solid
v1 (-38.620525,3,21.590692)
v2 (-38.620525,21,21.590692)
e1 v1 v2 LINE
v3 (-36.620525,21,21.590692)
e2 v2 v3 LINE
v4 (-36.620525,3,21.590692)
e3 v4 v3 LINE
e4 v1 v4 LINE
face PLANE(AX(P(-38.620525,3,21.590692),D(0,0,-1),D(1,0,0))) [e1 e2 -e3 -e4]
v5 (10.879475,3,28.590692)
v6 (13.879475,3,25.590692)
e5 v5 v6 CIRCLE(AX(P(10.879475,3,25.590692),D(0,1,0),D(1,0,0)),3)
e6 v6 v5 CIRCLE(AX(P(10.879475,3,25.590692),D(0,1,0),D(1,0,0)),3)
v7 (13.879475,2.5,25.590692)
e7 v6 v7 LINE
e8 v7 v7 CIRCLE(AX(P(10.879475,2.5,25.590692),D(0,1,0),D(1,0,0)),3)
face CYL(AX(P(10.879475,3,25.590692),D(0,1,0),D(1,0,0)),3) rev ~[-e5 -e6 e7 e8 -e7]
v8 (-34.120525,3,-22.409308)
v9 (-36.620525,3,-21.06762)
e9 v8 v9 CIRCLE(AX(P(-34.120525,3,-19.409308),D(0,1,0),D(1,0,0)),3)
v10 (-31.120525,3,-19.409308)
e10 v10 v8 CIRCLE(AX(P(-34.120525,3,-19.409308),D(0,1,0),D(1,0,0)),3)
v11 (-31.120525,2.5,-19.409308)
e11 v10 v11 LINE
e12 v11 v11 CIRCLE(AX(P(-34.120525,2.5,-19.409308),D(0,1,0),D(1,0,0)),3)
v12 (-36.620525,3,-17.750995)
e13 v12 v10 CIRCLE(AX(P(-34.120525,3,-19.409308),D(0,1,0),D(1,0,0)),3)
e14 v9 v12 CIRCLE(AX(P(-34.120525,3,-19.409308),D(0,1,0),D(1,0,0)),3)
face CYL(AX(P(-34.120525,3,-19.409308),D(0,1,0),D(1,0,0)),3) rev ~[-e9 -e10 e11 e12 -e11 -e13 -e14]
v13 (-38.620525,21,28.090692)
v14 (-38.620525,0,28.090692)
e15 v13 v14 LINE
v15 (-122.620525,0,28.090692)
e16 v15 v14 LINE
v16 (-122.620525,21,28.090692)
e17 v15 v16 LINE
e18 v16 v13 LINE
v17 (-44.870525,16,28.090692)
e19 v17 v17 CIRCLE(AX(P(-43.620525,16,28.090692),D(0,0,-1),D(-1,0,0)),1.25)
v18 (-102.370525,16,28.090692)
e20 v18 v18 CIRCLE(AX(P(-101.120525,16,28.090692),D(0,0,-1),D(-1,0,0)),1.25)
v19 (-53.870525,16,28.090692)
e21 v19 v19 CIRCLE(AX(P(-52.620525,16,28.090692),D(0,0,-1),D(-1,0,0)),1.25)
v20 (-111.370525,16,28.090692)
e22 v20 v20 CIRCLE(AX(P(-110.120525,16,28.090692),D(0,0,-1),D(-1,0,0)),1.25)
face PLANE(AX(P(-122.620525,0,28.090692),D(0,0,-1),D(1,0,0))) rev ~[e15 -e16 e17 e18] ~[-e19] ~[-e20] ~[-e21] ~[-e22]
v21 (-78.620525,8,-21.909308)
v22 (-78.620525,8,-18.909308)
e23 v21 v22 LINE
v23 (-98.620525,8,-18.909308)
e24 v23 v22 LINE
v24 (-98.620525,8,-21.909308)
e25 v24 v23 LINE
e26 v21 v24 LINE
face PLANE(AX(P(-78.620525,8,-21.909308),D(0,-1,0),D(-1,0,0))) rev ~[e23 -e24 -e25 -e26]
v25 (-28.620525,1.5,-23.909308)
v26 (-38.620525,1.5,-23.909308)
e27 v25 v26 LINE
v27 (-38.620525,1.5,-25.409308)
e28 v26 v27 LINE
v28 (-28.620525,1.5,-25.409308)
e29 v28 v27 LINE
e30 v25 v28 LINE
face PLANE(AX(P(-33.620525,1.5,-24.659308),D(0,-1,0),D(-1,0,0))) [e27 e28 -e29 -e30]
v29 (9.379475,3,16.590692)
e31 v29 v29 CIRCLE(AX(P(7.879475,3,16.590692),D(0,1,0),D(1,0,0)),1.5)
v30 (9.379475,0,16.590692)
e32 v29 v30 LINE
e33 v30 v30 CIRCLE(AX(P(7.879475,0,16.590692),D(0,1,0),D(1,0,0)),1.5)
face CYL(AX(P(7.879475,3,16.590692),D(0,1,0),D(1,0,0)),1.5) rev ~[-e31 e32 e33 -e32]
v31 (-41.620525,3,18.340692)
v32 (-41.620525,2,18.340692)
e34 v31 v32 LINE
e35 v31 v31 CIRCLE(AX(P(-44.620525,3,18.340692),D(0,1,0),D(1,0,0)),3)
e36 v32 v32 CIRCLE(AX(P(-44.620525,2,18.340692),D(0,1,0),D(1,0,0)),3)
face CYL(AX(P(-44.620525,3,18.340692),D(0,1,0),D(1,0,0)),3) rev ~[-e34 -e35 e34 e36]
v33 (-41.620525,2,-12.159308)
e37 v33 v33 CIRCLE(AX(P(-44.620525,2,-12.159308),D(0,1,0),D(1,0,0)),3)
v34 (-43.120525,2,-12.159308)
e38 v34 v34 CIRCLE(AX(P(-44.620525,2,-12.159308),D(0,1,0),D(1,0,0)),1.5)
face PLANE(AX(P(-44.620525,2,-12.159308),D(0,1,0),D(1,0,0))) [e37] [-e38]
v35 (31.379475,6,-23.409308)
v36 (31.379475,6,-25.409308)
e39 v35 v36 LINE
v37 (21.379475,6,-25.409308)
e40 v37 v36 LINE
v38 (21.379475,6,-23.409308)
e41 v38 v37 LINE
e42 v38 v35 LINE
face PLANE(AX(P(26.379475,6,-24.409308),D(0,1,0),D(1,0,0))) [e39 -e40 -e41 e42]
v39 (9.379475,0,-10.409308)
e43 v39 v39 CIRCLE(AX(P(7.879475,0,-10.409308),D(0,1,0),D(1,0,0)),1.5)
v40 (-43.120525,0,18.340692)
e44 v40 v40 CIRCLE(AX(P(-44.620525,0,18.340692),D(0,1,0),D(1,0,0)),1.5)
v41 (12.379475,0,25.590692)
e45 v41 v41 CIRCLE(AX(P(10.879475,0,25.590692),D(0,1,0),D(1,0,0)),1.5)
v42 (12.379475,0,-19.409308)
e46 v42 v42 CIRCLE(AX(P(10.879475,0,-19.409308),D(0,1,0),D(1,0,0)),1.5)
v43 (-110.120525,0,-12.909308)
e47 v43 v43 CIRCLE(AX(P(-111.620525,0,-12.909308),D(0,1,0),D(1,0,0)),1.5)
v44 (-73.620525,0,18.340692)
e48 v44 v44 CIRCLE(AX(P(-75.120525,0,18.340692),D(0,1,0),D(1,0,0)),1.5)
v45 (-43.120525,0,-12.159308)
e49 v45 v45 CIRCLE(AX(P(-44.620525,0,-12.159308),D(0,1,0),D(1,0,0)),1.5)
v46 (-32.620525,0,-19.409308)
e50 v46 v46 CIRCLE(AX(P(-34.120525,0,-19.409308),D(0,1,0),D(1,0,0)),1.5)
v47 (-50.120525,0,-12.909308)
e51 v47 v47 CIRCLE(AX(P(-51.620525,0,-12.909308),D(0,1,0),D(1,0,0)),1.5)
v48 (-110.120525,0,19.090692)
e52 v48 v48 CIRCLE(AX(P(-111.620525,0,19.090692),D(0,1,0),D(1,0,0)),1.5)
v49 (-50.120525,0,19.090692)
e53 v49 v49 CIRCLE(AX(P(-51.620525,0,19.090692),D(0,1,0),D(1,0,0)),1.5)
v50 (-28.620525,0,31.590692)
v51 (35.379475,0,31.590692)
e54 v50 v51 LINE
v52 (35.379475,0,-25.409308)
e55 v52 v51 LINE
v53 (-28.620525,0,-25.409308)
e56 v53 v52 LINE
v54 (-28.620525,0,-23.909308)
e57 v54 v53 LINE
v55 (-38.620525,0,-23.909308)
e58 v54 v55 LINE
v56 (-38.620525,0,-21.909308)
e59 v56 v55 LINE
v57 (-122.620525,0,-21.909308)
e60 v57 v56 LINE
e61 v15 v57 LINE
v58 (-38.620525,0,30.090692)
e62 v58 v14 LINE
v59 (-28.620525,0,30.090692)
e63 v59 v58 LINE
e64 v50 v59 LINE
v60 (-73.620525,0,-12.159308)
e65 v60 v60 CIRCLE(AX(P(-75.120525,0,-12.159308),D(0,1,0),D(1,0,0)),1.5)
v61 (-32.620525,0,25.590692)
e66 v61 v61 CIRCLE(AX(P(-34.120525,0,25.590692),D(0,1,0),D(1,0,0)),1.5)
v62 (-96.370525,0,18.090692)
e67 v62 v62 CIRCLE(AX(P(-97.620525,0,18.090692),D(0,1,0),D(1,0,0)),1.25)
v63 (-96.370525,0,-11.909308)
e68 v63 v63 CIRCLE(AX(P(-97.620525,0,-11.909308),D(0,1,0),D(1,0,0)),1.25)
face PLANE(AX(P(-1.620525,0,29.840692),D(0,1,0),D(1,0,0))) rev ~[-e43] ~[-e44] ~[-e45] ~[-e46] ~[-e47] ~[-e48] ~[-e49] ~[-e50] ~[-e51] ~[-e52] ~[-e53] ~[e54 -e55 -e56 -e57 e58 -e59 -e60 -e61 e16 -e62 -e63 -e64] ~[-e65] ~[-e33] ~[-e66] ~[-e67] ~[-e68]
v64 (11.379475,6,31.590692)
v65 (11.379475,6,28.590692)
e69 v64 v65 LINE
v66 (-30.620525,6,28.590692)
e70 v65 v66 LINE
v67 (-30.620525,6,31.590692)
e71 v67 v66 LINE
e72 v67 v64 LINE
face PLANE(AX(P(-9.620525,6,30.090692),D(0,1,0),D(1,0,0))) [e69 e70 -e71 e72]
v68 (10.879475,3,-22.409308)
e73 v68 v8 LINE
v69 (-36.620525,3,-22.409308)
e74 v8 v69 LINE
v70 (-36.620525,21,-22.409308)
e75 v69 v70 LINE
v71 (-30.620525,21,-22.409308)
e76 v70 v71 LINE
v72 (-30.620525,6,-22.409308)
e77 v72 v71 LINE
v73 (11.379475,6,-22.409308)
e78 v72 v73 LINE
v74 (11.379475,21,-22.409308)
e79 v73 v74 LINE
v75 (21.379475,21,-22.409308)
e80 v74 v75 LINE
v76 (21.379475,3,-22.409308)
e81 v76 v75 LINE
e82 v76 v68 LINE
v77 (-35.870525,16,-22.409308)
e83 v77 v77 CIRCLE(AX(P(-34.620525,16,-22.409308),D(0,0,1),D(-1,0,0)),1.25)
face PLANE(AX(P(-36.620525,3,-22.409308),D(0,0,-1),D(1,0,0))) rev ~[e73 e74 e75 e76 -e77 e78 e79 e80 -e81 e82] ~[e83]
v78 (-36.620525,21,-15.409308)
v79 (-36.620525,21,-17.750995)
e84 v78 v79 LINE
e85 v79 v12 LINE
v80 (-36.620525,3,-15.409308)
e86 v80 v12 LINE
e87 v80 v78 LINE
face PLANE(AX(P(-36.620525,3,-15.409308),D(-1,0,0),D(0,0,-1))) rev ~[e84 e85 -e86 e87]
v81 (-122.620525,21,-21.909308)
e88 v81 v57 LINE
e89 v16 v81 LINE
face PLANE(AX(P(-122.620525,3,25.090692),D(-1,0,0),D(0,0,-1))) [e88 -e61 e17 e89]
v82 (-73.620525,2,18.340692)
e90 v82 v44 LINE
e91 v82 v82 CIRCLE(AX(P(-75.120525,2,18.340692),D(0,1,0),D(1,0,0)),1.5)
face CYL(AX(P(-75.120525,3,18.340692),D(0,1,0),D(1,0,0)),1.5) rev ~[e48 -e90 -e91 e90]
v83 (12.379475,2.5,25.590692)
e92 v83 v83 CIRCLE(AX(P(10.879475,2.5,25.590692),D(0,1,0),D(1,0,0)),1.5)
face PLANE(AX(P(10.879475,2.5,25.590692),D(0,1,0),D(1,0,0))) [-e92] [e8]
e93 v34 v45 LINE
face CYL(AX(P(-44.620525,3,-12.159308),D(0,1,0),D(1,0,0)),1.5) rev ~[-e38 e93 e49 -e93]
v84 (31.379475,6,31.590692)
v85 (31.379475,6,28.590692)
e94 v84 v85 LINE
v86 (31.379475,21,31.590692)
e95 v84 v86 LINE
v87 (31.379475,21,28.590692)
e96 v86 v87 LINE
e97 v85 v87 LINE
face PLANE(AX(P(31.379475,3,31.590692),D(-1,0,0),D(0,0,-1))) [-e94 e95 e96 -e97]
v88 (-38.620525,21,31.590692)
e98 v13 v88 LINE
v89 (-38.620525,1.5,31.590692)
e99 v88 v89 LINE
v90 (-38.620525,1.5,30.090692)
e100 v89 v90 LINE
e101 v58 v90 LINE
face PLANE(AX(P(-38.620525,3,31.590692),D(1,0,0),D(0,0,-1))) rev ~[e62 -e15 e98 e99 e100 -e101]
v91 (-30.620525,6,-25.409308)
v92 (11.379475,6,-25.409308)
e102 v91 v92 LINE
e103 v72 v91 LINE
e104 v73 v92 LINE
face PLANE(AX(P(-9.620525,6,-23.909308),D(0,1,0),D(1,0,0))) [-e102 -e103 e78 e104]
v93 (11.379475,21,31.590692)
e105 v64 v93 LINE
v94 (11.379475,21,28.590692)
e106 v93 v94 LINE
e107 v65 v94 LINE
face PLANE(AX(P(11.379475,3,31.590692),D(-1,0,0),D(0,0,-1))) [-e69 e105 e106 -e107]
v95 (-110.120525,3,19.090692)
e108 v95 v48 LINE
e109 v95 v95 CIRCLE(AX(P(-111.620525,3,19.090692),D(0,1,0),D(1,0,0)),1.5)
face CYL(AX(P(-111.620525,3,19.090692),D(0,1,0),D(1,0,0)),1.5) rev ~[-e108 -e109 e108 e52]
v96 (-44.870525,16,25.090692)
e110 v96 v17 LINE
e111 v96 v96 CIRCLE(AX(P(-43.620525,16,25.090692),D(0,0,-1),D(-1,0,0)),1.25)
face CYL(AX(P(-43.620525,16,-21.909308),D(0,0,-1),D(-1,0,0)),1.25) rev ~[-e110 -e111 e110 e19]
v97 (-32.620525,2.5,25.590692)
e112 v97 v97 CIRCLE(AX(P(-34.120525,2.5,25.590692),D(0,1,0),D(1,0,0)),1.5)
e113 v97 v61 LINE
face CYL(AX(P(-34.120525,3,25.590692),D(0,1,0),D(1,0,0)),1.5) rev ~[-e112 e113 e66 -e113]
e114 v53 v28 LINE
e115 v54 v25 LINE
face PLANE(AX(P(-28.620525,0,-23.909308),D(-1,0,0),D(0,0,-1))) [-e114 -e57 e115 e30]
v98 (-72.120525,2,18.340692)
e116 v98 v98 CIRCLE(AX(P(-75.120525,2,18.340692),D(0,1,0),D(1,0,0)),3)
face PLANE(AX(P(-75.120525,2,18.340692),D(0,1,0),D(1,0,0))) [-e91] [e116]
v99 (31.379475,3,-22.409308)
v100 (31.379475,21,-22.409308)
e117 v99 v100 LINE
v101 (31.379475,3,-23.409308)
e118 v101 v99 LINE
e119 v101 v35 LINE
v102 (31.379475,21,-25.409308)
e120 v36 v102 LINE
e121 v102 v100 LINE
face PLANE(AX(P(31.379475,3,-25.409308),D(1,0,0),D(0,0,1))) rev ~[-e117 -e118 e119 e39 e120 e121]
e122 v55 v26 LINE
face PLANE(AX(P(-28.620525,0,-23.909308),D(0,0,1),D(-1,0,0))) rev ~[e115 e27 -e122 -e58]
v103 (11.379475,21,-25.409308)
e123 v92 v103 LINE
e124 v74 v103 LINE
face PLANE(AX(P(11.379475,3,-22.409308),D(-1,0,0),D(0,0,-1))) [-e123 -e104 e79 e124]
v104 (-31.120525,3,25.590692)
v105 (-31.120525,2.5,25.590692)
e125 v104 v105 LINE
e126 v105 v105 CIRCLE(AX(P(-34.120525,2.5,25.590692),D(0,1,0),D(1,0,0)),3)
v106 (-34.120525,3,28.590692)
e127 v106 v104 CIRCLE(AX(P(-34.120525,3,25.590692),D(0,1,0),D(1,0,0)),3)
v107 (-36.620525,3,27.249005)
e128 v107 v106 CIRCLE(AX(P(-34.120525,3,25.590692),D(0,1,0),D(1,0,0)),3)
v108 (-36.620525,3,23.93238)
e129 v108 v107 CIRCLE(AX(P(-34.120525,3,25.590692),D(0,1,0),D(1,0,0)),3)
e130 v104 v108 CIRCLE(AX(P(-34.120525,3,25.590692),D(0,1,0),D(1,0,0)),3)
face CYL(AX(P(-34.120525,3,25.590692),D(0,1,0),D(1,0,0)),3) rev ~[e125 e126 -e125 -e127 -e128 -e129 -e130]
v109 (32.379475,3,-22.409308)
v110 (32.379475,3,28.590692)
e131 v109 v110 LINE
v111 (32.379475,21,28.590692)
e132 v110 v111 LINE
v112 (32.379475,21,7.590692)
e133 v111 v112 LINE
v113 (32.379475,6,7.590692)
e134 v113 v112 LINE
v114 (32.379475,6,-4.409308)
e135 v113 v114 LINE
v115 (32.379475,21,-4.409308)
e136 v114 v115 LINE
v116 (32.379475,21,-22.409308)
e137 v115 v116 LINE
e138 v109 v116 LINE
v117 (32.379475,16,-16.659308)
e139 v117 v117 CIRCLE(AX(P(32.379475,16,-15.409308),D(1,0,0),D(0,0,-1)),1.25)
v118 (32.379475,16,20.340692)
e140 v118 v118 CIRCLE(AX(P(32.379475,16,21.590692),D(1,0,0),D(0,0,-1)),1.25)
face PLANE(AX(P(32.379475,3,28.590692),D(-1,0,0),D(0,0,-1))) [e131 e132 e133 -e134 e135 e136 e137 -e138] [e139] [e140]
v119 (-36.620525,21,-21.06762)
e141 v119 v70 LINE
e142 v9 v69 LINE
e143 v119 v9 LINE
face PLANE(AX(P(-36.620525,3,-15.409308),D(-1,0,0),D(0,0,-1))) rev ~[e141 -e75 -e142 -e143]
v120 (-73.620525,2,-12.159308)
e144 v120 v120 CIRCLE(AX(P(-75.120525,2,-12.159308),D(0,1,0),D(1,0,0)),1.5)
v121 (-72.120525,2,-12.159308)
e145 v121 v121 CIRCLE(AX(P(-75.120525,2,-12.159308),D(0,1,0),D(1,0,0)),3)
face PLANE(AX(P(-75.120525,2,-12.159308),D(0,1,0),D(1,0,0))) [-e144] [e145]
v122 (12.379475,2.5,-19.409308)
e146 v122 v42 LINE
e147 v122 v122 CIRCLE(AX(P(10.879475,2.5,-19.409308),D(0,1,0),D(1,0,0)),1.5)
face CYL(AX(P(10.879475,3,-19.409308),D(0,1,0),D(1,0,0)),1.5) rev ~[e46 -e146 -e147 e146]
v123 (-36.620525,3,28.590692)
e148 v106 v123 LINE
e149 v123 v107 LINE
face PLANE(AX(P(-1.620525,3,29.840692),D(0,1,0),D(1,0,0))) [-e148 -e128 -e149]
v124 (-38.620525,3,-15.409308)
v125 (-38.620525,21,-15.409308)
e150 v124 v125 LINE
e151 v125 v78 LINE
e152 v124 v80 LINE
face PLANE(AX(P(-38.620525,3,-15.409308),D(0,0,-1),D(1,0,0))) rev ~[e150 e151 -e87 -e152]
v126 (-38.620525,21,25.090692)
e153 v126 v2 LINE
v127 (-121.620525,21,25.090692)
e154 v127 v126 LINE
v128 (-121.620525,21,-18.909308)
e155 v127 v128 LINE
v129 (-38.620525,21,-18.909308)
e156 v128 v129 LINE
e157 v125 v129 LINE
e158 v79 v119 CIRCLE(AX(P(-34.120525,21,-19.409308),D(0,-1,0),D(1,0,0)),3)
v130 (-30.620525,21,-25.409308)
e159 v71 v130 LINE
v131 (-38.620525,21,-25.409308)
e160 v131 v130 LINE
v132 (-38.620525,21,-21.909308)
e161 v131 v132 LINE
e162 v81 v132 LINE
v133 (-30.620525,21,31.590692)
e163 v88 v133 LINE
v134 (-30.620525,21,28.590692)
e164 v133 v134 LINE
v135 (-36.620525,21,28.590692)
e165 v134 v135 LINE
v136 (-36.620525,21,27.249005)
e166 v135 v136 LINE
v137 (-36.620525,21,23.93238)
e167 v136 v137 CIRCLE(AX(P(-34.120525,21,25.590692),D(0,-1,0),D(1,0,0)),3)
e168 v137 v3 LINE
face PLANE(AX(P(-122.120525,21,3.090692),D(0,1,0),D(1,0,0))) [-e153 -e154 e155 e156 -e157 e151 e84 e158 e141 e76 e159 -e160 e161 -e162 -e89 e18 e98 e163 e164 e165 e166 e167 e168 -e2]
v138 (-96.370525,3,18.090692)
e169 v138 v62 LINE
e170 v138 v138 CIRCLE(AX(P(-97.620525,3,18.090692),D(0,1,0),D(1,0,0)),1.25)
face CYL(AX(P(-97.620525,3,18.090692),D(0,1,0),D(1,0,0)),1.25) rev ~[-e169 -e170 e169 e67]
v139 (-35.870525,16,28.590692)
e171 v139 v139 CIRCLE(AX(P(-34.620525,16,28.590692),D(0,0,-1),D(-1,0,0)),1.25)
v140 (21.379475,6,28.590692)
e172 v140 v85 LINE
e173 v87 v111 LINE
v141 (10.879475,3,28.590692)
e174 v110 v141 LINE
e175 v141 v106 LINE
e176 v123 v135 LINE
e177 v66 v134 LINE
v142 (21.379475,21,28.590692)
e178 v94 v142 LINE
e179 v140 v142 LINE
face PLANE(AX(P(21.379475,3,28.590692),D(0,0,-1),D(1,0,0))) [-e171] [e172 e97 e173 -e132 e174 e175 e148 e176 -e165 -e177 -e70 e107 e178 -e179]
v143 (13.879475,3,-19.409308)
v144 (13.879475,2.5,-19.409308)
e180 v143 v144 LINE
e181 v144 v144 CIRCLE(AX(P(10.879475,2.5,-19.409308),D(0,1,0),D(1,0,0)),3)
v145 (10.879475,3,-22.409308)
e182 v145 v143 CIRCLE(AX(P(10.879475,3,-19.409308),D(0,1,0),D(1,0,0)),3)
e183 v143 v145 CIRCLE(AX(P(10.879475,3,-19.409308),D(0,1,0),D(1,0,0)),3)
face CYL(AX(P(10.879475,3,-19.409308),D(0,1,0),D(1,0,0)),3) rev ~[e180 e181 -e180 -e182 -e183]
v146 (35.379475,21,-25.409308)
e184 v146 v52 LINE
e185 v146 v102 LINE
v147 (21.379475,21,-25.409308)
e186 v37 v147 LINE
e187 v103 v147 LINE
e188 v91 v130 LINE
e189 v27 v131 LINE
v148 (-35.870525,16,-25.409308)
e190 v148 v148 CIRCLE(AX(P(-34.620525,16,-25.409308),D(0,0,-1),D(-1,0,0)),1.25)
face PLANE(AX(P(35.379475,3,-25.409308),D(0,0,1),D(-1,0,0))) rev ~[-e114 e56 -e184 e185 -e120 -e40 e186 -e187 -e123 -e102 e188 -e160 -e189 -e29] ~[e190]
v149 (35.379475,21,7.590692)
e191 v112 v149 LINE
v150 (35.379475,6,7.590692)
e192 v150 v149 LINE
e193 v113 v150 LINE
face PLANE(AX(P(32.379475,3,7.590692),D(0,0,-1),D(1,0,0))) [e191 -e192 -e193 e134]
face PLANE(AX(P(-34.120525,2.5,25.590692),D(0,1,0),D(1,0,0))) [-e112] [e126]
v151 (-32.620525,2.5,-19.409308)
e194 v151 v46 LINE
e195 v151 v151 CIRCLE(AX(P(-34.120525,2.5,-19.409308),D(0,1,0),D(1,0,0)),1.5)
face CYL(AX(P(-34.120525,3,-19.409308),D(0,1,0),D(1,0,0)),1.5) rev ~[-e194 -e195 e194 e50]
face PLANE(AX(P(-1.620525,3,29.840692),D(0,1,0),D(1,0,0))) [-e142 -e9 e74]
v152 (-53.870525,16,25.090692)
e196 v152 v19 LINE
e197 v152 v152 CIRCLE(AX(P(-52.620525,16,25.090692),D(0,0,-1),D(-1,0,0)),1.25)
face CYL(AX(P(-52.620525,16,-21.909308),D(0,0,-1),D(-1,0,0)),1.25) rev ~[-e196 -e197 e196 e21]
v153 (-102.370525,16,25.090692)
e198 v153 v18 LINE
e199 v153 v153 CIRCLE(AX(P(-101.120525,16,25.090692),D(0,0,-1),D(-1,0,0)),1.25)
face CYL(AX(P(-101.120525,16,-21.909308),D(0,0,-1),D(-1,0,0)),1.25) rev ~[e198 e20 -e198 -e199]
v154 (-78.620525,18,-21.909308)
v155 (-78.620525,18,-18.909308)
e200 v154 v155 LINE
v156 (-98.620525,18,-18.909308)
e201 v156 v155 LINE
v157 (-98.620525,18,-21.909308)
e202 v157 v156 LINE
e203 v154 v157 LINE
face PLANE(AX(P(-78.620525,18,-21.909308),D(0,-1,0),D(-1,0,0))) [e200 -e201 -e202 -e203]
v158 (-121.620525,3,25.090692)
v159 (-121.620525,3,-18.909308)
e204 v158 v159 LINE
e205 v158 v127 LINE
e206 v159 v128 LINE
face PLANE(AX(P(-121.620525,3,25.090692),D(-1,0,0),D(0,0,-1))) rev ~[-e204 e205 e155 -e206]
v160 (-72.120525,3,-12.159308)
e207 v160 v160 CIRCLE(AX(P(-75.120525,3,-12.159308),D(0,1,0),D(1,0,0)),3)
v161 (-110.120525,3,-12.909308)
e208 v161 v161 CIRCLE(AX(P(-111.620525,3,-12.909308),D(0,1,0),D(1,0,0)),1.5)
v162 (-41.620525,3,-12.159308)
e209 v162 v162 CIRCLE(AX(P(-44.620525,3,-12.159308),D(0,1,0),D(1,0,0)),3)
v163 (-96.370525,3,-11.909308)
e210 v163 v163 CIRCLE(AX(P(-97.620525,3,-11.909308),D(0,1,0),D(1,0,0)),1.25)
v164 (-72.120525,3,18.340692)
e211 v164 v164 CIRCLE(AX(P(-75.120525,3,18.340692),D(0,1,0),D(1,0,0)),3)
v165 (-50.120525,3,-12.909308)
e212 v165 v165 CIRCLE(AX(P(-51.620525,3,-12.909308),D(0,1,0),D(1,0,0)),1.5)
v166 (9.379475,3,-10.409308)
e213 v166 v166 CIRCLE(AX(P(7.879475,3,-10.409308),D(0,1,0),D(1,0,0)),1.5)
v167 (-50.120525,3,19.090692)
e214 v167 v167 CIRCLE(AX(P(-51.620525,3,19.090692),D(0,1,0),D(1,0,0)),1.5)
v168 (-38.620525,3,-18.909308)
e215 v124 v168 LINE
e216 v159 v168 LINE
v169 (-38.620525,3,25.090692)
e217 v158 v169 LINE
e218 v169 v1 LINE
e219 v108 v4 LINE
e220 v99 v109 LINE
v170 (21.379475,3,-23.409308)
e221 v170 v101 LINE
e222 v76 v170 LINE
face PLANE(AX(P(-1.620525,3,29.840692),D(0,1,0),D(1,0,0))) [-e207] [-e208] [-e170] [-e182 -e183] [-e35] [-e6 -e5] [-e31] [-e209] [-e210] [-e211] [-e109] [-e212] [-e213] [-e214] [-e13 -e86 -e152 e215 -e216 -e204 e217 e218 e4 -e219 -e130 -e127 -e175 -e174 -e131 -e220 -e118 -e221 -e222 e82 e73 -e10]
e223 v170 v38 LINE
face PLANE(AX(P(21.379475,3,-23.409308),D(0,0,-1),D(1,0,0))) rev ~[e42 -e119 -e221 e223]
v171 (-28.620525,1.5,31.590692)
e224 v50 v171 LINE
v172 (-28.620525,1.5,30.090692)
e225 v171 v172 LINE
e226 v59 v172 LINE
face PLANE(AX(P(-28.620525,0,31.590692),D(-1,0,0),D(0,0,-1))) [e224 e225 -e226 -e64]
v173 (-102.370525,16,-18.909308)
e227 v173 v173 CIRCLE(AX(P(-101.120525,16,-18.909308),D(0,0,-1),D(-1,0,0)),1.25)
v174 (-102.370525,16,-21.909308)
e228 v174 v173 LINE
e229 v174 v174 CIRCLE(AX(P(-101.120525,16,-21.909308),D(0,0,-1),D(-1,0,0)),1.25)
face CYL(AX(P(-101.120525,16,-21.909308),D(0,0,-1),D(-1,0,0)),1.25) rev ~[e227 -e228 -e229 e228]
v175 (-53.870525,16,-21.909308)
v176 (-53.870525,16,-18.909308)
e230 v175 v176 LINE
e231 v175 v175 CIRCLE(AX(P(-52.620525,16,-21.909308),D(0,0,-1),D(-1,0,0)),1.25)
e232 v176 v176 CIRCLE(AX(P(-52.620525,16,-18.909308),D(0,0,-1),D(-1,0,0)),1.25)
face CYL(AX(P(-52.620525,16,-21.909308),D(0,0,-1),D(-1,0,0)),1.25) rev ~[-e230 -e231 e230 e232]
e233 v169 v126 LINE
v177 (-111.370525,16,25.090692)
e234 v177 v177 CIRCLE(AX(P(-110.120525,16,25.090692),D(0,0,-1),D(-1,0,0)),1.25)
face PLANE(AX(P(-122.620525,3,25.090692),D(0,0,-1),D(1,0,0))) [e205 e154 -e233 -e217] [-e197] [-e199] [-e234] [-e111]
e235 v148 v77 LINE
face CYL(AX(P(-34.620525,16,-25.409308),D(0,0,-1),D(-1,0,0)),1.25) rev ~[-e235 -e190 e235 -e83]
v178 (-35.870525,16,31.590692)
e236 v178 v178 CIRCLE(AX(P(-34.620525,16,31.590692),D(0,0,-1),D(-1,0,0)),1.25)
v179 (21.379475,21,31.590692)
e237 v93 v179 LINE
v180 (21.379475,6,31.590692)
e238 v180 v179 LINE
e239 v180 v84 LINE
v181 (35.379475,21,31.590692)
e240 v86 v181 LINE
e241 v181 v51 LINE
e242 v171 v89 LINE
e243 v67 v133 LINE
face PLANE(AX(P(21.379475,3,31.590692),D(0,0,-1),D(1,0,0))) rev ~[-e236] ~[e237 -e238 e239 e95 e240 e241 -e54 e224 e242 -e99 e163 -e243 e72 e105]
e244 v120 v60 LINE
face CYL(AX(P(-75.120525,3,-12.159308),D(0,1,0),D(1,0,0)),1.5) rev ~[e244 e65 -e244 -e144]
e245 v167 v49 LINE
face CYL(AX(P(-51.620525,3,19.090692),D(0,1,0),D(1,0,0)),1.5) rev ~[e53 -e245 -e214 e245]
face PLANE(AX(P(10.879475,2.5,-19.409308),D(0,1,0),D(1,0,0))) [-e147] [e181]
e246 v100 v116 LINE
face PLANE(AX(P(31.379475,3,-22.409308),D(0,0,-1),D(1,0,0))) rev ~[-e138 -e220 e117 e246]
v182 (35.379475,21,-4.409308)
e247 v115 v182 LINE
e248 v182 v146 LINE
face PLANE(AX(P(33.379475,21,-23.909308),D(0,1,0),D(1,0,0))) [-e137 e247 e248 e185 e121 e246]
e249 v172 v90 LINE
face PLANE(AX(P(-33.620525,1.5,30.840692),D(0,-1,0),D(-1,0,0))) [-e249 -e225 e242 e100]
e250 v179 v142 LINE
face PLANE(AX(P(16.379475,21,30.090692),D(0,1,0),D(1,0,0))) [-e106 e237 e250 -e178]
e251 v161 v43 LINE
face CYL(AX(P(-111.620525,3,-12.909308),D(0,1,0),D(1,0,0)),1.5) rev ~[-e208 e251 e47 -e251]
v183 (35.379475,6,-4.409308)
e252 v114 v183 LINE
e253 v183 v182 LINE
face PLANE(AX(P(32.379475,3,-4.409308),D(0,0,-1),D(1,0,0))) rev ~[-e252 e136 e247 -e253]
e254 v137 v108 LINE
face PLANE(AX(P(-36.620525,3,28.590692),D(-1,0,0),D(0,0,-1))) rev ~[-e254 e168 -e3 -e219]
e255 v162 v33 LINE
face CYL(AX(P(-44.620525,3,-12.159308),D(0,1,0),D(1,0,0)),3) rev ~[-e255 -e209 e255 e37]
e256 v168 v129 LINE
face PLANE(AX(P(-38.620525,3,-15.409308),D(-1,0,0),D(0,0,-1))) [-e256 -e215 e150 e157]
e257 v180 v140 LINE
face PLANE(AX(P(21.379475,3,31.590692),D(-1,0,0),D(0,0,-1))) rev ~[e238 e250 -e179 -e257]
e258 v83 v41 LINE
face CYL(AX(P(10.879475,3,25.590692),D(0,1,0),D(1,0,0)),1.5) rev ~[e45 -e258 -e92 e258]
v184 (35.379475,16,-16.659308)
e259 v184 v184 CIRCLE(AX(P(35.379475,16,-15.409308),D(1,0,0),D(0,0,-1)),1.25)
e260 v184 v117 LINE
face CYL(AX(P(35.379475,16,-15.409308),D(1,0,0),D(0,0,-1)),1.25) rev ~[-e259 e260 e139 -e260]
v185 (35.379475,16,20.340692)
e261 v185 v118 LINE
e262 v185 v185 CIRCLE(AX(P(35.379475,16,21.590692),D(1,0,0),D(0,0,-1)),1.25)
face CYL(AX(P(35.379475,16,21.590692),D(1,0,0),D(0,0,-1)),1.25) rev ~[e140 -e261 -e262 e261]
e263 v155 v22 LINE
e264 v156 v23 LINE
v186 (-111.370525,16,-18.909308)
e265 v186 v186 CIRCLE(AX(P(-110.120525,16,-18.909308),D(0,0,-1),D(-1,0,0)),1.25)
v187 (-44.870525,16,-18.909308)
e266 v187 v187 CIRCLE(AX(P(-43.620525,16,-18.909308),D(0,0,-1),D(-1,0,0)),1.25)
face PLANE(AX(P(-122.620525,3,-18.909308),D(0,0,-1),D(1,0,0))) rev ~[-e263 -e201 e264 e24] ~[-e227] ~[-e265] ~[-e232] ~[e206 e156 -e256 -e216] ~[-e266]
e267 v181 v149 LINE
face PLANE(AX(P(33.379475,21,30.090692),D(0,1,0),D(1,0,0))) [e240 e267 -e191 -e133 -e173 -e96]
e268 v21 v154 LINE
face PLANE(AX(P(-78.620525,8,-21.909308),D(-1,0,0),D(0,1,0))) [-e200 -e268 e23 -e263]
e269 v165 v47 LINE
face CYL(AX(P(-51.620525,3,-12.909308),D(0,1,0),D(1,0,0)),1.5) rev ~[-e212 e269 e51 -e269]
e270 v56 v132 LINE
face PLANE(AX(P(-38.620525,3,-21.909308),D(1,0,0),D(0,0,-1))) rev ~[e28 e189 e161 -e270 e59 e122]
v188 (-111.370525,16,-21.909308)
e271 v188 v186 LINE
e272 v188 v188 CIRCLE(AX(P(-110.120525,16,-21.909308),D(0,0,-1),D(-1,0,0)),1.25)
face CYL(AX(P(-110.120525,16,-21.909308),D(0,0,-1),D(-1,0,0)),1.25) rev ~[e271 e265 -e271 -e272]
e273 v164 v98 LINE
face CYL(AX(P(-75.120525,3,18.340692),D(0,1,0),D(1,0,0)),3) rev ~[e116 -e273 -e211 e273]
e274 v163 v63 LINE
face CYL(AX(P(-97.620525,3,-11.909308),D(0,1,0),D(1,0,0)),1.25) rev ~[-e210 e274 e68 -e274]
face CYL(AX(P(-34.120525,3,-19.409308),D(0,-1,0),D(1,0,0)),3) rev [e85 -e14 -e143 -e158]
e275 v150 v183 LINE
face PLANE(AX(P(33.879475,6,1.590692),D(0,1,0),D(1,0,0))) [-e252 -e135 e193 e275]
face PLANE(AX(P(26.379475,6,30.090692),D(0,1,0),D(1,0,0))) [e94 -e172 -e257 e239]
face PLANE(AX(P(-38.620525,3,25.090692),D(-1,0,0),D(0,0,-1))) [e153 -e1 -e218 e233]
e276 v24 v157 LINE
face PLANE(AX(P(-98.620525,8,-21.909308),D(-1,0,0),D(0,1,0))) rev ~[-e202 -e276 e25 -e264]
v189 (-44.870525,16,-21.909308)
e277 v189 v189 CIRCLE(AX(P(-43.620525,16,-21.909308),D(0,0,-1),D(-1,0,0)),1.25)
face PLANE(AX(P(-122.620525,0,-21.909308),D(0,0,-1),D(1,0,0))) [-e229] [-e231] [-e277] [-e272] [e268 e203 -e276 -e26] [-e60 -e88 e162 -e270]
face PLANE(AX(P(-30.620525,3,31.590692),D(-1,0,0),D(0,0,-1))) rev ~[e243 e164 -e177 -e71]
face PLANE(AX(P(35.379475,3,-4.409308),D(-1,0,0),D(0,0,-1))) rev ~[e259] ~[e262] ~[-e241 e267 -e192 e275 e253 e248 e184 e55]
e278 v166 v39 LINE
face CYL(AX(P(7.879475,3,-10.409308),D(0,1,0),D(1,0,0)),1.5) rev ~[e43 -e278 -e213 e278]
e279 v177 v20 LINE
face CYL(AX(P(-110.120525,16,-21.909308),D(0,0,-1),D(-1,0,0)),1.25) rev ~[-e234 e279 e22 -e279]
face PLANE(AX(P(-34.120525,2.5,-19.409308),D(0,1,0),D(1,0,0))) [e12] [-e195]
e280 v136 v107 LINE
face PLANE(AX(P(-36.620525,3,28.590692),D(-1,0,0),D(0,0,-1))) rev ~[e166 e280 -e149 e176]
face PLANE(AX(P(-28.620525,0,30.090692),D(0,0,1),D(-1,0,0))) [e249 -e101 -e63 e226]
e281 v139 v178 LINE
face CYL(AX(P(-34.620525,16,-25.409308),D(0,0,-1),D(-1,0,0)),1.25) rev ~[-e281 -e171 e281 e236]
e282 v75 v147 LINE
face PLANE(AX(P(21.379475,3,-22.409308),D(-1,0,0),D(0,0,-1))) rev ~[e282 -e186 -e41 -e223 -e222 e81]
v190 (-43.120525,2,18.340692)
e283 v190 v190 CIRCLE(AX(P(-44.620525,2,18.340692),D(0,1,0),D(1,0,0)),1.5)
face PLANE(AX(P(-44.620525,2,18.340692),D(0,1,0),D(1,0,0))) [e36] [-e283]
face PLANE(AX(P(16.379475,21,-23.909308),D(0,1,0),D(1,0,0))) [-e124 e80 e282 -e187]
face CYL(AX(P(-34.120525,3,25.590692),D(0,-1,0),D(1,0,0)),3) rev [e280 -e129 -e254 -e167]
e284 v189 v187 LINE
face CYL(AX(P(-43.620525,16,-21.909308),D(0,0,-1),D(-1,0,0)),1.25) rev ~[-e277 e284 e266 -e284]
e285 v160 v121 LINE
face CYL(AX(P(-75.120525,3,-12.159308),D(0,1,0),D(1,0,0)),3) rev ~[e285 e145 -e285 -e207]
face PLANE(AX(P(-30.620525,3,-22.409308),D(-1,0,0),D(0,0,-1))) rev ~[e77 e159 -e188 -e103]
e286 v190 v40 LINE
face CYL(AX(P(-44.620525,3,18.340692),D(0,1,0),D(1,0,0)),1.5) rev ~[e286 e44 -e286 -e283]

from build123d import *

# Parameters (mm, degrees)
SKETCH1_W               = 158
SKETCH1_H               = 50
BOSS_EXTRUDE1_DEPTH     = 3
SKETCH2_R               = 1.5
SKETCH2_R_2             = 1.25
CUT_EXTRUDE1_DEPTH      = 4
SKETCH4_W               = 74
SKETCH4_H               = 3.5
BOSS_EXTRUDE2_DEPTH     = 3
SKETCH5_R               = 1.5
CUT_EXTRUDE3_DEPTH      = 4
SKETCH6_W               = 84
SKETCH6_H               = 3
SKETCH6_W_2             = 8
SKETCH6_W_3             = 2
SKETCH6_H_2             = 7
SKETCH6_W_4             = 4
SKETCH6_W_5             = 3
SKETCH6_H_3             = 21
SKETCH6_H_4             = 18
SKETCH6_W_6             = 10
BOSS_EXTRUDE3_DEPTH     = 18
SKETCH8_W               = 10
SKETCH8_H               = 3
SKETCH8_H_2             = 2
SKETCH8_W_2             = 42
SKETCH8_W_3             = 3
SKETCH8_H_3             = 12
BOSS_EXTRUDE4_DEPTH     = 3
CUT_EXTRUDE4_REACH      = 55.5
SKETCH9_W               = 20
SKETCH9_H               = 10
CUT_EXTRUDE5_REACH      = 160
SKETCH10_R              = 1.25
SKETCH11_R              = 1.25
CUT_EXTRUDE6_DEPTH      = 54.5
SKETCH12_R              = 1.25
CUT_EXTRUDE7_DEPTH      = 58
SKETCH13_W              = 10
SKETCH13_H              = 1.5
CUT_EXTRUDE8_DEPTH      = 1.5
SKETCH14_R              = 3
CUT_EXTRUDE9_DEPTH      = 19
CUT_EXTRUDE9_DEPTH_BACK = 0.5
SKETCH15_R              = 3
CUT_EXTRUDE10_DEPTH     = 1
SKETCH17_W              = 1
SKETCH17_H              = 44
BOSS_EXTRUDE5_DEPTH     = 18


with BuildPart() as part:
    # Sketch1 → Boss-Extrude1 (new body)
    with BuildSketch(Plane(origin=(0, 0, 0), x_dir=(1, 0, 0), z_dir=(0, 1, 0))):
        with Locations((-43.62052506, -3.090692124)):
            Rectangle(SKETCH1_W, SKETCH1_H)
    extrude(amount=BOSS_EXTRUDE1_DEPTH)

    # Sketch2 → Cut-Extrude1 (cut, through all)
    with BuildSketch(Plane(origin=(0, 3, 0), x_dir=(1, 0, 0), z_dir=(0, 1, 0))):
        with Locations((-75.12052506, 12.159307876)):
            Circle(SKETCH2_R)
        with Locations((-75.12052506, -18.340692124)):
            Circle(SKETCH2_R)
        with Locations((-44.62052506, -18.340692124)):
            Circle(SKETCH2_R)
        with Locations((-44.62052506, 12.159307876)):
            Circle(SKETCH2_R)
        with Locations((7.87947494, -16.590692124)):
            Circle(SKETCH2_R)
        with Locations((7.87947494, 10.409307876)):
            Circle(SKETCH2_R)
        with Locations((-111.62052506, -19.090692124)):
            Circle(SKETCH2_R)
        with Locations((-111.62052506, 12.909307876)):
            Circle(SKETCH2_R)
        with Locations((-97.62052506, 11.909307876)):
            Circle(SKETCH2_R_2)
        with Locations((-97.62052506, -18.090692124)):
            Circle(SKETCH2_R_2)
        with Locations((-51.62052506, 12.909307876)):
            Circle(SKETCH2_R)
        with Locations((-51.62052506, -19.090692124)):
            Circle(SKETCH2_R)
    extrude(amount=-CUT_EXTRUDE1_DEPTH, mode=Mode.SUBTRACT)

    # Sketch4 → Boss-Extrude2 (add)
    with BuildSketch(Plane(origin=(0, 3, 0), x_dir=(1, 0, 0), z_dir=(0, 1, 0))):
        with Locations((-1.62052506, -29.840692124)):
            Rectangle(SKETCH4_W, SKETCH4_H)
        with Locations((-1.62052506, 23.659307876)):
            Rectangle(SKETCH4_W, SKETCH4_H)
    extrude(amount=-BOSS_EXTRUDE2_DEPTH)

    # Sketch5 → Cut-Extrude3 (cut, through all)
    with BuildSketch(Plane(origin=(0, 3, 0), x_dir=(1, 0, 0), z_dir=(0, 1, 0))):
        with Locations((-34.12052506, 19.409307876)):
            Circle(SKETCH5_R)
        with Locations((-34.12052506, -25.590692124)):
            Circle(SKETCH5_R)
        with Locations((10.87947494, 19.409307876)):
            Circle(SKETCH5_R)
        with Locations((10.87947494, -25.590692124)):
            Circle(SKETCH5_R)
    extrude(amount=-CUT_EXTRUDE3_DEPTH, mode=Mode.SUBTRACT)

    # Sketch6 → Boss-Extrude3 (add)
    with BuildSketch(Plane(origin=(0, 3, 0), x_dir=(1, 0, 0), z_dir=(0, 1, 0))):
        Polygon((35.37947494, 25.409307876), (31.37947494, 25.409307876), (31.37947494, 22.409307876), (32.37947494, 22.409307876), (35.37947494, 22.409307876), align=None)
        with Locations((-80.62052506, -26.590692124)):
            Rectangle(SKETCH6_W, SKETCH6_H)
        with Locations((-80.62052506, 20.409307876)):
            Rectangle(SKETCH6_W, SKETCH6_H)
        with Locations((-34.62052506, 23.909307876)):
            Rectangle(SKETCH6_W_2, SKETCH6_H)
        with Locations((-34.62052506, -30.090692124)):
            Rectangle(SKETCH6_W_2, SKETCH6_H)
        with Locations((-37.62052506, -25.090692124)):
            Rectangle(SKETCH6_W_3, SKETCH6_H_2)
        with Locations((-37.62052506, 18.909307876)):
            Rectangle(SKETCH6_W_3, SKETCH6_H_2)
        with Locations((33.37947494, -30.090692124)):
            Rectangle(SKETCH6_W_4, SKETCH6_H)
        with Locations((33.87947494, -18.090692124)):
            Rectangle(SKETCH6_W_5, SKETCH6_H_3)
        with Locations((33.87947494, 13.409307876)):
            Rectangle(SKETCH6_W_5, SKETCH6_H_4)
        with Locations((16.37947494, -30.090692124)):
            Rectangle(SKETCH6_W_6, SKETCH6_H)
        with Locations((16.37947494, 23.909307876)):
            Rectangle(SKETCH6_W_6, SKETCH6_H)
    extrude(amount=BOSS_EXTRUDE3_DEPTH)

    # Sketch8 → Boss-Extrude4 (add)
    with BuildSketch(Plane(origin=(0, 3, 0), x_dir=(1, 0, 0), z_dir=(0, 1, 0))):
        with Locations((26.37947494, -30.090692124)):
            Rectangle(SKETCH8_W, SKETCH8_H)
        with Locations((26.37947494, 24.409307876)):
            Rectangle(SKETCH8_W, SKETCH8_H_2)
        with Locations((-9.62052506, 23.909307876)):
            Rectangle(SKETCH8_W_2, SKETCH8_H)
        with Locations((-9.62052506, -30.090692124)):
            Rectangle(SKETCH8_W_2, SKETCH8_H)
        with Locations((33.87947494, -1.590692124)):
            Rectangle(SKETCH8_W_3, SKETCH8_H_3)
    extrude(amount=BOSS_EXTRUDE4_DEPTH)

    # Sketch9 → Cut-Extrude4 (cut, up to next)
    with BuildSketch(Plane(origin=(0, 0, -21.909307876), x_dir=(-1, 0, 0), z_dir=(0, 0, -1)), mode=Mode.PRIVATE) as cut_extrude4_sk1:
        with Locations((88.62052506, 13)):
            Rectangle(SKETCH9_W, SKETCH9_H)
    cut_extrude4_tool1 = extrude(cut_extrude4_sk1.sketch, amount=-CUT_EXTRUDE4_REACH, mode=Mode.PRIVATE) & part.part
    add(cut_extrude4_tool1.solids().sort_by_distance((-88.620525, 13, -21.909308))[0], mode=Mode.SUBTRACT)

    # Sketch10 → Cut-Extrude5 (cut, up to next)
    with BuildSketch(Plane(origin=(35.37947494, 0, 0), x_dir=(0, 0, -1), z_dir=(1, 0, 0)), mode=Mode.PRIVATE) as cut_extrude5_sk1:
        with Locations((-21.590692124, 16)):
            Circle(SKETCH10_R)
    cut_extrude5_tool1 = extrude(cut_extrude5_sk1.sketch, amount=-CUT_EXTRUDE5_REACH, mode=Mode.PRIVATE) & part.part
    add(cut_extrude5_tool1.solids().sort_by_distance((35.379475, 16, 21.590692))[0], mode=Mode.SUBTRACT)
    # Sketch10 → Cut-Extrude5 (cut, up to next)
    with BuildSketch(Plane(origin=(35.37947494, 0, 0), x_dir=(0, 0, -1), z_dir=(1, 0, 0)), mode=Mode.PRIVATE) as cut_extrude5_sk2:
        with Locations((15.409307876, 16)):
            Circle(SKETCH10_R)
    cut_extrude5_tool2 = extrude(cut_extrude5_sk2.sketch, amount=-CUT_EXTRUDE5_REACH, mode=Mode.PRIVATE) & part.part
    add(cut_extrude5_tool2.solids().sort_by_distance((35.379475, 16, -15.409308))[0], mode=Mode.SUBTRACT)

    # Sketch11 → Cut-Extrude6 (cut, through all)
    with BuildSketch(Plane(origin=(0, 0, -21.909307876), x_dir=(-1, 0, 0), z_dir=(0, 0, -1))):
        with Locations((43.62052506, 16)):
            Circle(SKETCH11_R)
        with Locations((110.12052506, 16)):
            Circle(SKETCH11_R)
        with Locations((52.62052506, 16)):
            Circle(SKETCH11_R)
        with Locations((101.12052506, 16)):
            Circle(SKETCH11_R)
    extrude(amount=-CUT_EXTRUDE6_DEPTH, mode=Mode.SUBTRACT)

    # Sketch12 → Cut-Extrude7 (cut, through all)
    with BuildSketch(Plane(origin=(0, 0, -25.409307876), x_dir=(-1, 0, 0), z_dir=(0, 0, -1))):
        with Locations((34.62052506, 16)):
            Circle(SKETCH12_R)
    extrude(amount=-CUT_EXTRUDE7_DEPTH, mode=Mode.SUBTRACT)

    # Sketch13 → Cut-Extrude8 (cut)
    with BuildSketch(Plane(origin=(0, 0, 0), x_dir=(-1, 0, 0), z_dir=(0, -1, 0))):
        with Locations((33.62052506, -30.840692124)):
            Rectangle(SKETCH13_W, SKETCH13_H)
        with Locations((33.62052506, 24.659307876)):
            Rectangle(SKETCH13_W, SKETCH13_H)
    extrude(amount=-CUT_EXTRUDE8_DEPTH, mode=Mode.SUBTRACT)

    # Sketch14 → Cut-Extrude9 (cut, two sides)
    with BuildSketch(Plane(origin=(0, 3, 0), x_dir=(1, 0, 0), z_dir=(0, 1, 0))) as cut_extrude9_sk:
        with Locations((10.87947494, -25.590692124)):
            Circle(SKETCH14_R)
        with Locations((-34.12052506, -25.590692124)):
            Circle(SKETCH14_R)
        with Locations((-34.12052506, 19.409307876)):
            Circle(SKETCH14_R)
        with Locations((10.87947494, 19.409307876)):
            Circle(SKETCH14_R)
    extrude(amount=CUT_EXTRUDE9_DEPTH, mode=Mode.SUBTRACT)
    extrude(cut_extrude9_sk.sketch, amount=-CUT_EXTRUDE9_DEPTH_BACK, mode=Mode.SUBTRACT)

    # Sketch15 → Cut-Extrude10 (cut)
    with BuildSketch(Plane(origin=(0, 3, 0), x_dir=(1, 0, 0), z_dir=(0, 1, 0))):
        with Locations((-75.12052506, 12.159307876)):
            Circle(SKETCH15_R)
        with Locations((-75.12052506, -18.340692124)):
            Circle(SKETCH15_R)
        with Locations((-44.62052506, 12.159307876)):
            Circle(SKETCH15_R)
        with Locations((-44.62052506, -18.340692124)):
            Circle(SKETCH15_R)
    extrude(amount=-CUT_EXTRUDE10_DEPTH, mode=Mode.SUBTRACT)

    # Sketch17 → Boss-Extrude5 (add)
    with BuildSketch(Plane(origin=(0, 3, 0), x_dir=(1, 0, 0), z_dir=(0, 1, 0))):
        with Locations((-122.12052506, -3.090692124)):
            Rectangle(SKETCH17_W, SKETCH17_H)
    extrude(amount=BOSS_EXTRUDE5_DEPTH)


solid = part.part
